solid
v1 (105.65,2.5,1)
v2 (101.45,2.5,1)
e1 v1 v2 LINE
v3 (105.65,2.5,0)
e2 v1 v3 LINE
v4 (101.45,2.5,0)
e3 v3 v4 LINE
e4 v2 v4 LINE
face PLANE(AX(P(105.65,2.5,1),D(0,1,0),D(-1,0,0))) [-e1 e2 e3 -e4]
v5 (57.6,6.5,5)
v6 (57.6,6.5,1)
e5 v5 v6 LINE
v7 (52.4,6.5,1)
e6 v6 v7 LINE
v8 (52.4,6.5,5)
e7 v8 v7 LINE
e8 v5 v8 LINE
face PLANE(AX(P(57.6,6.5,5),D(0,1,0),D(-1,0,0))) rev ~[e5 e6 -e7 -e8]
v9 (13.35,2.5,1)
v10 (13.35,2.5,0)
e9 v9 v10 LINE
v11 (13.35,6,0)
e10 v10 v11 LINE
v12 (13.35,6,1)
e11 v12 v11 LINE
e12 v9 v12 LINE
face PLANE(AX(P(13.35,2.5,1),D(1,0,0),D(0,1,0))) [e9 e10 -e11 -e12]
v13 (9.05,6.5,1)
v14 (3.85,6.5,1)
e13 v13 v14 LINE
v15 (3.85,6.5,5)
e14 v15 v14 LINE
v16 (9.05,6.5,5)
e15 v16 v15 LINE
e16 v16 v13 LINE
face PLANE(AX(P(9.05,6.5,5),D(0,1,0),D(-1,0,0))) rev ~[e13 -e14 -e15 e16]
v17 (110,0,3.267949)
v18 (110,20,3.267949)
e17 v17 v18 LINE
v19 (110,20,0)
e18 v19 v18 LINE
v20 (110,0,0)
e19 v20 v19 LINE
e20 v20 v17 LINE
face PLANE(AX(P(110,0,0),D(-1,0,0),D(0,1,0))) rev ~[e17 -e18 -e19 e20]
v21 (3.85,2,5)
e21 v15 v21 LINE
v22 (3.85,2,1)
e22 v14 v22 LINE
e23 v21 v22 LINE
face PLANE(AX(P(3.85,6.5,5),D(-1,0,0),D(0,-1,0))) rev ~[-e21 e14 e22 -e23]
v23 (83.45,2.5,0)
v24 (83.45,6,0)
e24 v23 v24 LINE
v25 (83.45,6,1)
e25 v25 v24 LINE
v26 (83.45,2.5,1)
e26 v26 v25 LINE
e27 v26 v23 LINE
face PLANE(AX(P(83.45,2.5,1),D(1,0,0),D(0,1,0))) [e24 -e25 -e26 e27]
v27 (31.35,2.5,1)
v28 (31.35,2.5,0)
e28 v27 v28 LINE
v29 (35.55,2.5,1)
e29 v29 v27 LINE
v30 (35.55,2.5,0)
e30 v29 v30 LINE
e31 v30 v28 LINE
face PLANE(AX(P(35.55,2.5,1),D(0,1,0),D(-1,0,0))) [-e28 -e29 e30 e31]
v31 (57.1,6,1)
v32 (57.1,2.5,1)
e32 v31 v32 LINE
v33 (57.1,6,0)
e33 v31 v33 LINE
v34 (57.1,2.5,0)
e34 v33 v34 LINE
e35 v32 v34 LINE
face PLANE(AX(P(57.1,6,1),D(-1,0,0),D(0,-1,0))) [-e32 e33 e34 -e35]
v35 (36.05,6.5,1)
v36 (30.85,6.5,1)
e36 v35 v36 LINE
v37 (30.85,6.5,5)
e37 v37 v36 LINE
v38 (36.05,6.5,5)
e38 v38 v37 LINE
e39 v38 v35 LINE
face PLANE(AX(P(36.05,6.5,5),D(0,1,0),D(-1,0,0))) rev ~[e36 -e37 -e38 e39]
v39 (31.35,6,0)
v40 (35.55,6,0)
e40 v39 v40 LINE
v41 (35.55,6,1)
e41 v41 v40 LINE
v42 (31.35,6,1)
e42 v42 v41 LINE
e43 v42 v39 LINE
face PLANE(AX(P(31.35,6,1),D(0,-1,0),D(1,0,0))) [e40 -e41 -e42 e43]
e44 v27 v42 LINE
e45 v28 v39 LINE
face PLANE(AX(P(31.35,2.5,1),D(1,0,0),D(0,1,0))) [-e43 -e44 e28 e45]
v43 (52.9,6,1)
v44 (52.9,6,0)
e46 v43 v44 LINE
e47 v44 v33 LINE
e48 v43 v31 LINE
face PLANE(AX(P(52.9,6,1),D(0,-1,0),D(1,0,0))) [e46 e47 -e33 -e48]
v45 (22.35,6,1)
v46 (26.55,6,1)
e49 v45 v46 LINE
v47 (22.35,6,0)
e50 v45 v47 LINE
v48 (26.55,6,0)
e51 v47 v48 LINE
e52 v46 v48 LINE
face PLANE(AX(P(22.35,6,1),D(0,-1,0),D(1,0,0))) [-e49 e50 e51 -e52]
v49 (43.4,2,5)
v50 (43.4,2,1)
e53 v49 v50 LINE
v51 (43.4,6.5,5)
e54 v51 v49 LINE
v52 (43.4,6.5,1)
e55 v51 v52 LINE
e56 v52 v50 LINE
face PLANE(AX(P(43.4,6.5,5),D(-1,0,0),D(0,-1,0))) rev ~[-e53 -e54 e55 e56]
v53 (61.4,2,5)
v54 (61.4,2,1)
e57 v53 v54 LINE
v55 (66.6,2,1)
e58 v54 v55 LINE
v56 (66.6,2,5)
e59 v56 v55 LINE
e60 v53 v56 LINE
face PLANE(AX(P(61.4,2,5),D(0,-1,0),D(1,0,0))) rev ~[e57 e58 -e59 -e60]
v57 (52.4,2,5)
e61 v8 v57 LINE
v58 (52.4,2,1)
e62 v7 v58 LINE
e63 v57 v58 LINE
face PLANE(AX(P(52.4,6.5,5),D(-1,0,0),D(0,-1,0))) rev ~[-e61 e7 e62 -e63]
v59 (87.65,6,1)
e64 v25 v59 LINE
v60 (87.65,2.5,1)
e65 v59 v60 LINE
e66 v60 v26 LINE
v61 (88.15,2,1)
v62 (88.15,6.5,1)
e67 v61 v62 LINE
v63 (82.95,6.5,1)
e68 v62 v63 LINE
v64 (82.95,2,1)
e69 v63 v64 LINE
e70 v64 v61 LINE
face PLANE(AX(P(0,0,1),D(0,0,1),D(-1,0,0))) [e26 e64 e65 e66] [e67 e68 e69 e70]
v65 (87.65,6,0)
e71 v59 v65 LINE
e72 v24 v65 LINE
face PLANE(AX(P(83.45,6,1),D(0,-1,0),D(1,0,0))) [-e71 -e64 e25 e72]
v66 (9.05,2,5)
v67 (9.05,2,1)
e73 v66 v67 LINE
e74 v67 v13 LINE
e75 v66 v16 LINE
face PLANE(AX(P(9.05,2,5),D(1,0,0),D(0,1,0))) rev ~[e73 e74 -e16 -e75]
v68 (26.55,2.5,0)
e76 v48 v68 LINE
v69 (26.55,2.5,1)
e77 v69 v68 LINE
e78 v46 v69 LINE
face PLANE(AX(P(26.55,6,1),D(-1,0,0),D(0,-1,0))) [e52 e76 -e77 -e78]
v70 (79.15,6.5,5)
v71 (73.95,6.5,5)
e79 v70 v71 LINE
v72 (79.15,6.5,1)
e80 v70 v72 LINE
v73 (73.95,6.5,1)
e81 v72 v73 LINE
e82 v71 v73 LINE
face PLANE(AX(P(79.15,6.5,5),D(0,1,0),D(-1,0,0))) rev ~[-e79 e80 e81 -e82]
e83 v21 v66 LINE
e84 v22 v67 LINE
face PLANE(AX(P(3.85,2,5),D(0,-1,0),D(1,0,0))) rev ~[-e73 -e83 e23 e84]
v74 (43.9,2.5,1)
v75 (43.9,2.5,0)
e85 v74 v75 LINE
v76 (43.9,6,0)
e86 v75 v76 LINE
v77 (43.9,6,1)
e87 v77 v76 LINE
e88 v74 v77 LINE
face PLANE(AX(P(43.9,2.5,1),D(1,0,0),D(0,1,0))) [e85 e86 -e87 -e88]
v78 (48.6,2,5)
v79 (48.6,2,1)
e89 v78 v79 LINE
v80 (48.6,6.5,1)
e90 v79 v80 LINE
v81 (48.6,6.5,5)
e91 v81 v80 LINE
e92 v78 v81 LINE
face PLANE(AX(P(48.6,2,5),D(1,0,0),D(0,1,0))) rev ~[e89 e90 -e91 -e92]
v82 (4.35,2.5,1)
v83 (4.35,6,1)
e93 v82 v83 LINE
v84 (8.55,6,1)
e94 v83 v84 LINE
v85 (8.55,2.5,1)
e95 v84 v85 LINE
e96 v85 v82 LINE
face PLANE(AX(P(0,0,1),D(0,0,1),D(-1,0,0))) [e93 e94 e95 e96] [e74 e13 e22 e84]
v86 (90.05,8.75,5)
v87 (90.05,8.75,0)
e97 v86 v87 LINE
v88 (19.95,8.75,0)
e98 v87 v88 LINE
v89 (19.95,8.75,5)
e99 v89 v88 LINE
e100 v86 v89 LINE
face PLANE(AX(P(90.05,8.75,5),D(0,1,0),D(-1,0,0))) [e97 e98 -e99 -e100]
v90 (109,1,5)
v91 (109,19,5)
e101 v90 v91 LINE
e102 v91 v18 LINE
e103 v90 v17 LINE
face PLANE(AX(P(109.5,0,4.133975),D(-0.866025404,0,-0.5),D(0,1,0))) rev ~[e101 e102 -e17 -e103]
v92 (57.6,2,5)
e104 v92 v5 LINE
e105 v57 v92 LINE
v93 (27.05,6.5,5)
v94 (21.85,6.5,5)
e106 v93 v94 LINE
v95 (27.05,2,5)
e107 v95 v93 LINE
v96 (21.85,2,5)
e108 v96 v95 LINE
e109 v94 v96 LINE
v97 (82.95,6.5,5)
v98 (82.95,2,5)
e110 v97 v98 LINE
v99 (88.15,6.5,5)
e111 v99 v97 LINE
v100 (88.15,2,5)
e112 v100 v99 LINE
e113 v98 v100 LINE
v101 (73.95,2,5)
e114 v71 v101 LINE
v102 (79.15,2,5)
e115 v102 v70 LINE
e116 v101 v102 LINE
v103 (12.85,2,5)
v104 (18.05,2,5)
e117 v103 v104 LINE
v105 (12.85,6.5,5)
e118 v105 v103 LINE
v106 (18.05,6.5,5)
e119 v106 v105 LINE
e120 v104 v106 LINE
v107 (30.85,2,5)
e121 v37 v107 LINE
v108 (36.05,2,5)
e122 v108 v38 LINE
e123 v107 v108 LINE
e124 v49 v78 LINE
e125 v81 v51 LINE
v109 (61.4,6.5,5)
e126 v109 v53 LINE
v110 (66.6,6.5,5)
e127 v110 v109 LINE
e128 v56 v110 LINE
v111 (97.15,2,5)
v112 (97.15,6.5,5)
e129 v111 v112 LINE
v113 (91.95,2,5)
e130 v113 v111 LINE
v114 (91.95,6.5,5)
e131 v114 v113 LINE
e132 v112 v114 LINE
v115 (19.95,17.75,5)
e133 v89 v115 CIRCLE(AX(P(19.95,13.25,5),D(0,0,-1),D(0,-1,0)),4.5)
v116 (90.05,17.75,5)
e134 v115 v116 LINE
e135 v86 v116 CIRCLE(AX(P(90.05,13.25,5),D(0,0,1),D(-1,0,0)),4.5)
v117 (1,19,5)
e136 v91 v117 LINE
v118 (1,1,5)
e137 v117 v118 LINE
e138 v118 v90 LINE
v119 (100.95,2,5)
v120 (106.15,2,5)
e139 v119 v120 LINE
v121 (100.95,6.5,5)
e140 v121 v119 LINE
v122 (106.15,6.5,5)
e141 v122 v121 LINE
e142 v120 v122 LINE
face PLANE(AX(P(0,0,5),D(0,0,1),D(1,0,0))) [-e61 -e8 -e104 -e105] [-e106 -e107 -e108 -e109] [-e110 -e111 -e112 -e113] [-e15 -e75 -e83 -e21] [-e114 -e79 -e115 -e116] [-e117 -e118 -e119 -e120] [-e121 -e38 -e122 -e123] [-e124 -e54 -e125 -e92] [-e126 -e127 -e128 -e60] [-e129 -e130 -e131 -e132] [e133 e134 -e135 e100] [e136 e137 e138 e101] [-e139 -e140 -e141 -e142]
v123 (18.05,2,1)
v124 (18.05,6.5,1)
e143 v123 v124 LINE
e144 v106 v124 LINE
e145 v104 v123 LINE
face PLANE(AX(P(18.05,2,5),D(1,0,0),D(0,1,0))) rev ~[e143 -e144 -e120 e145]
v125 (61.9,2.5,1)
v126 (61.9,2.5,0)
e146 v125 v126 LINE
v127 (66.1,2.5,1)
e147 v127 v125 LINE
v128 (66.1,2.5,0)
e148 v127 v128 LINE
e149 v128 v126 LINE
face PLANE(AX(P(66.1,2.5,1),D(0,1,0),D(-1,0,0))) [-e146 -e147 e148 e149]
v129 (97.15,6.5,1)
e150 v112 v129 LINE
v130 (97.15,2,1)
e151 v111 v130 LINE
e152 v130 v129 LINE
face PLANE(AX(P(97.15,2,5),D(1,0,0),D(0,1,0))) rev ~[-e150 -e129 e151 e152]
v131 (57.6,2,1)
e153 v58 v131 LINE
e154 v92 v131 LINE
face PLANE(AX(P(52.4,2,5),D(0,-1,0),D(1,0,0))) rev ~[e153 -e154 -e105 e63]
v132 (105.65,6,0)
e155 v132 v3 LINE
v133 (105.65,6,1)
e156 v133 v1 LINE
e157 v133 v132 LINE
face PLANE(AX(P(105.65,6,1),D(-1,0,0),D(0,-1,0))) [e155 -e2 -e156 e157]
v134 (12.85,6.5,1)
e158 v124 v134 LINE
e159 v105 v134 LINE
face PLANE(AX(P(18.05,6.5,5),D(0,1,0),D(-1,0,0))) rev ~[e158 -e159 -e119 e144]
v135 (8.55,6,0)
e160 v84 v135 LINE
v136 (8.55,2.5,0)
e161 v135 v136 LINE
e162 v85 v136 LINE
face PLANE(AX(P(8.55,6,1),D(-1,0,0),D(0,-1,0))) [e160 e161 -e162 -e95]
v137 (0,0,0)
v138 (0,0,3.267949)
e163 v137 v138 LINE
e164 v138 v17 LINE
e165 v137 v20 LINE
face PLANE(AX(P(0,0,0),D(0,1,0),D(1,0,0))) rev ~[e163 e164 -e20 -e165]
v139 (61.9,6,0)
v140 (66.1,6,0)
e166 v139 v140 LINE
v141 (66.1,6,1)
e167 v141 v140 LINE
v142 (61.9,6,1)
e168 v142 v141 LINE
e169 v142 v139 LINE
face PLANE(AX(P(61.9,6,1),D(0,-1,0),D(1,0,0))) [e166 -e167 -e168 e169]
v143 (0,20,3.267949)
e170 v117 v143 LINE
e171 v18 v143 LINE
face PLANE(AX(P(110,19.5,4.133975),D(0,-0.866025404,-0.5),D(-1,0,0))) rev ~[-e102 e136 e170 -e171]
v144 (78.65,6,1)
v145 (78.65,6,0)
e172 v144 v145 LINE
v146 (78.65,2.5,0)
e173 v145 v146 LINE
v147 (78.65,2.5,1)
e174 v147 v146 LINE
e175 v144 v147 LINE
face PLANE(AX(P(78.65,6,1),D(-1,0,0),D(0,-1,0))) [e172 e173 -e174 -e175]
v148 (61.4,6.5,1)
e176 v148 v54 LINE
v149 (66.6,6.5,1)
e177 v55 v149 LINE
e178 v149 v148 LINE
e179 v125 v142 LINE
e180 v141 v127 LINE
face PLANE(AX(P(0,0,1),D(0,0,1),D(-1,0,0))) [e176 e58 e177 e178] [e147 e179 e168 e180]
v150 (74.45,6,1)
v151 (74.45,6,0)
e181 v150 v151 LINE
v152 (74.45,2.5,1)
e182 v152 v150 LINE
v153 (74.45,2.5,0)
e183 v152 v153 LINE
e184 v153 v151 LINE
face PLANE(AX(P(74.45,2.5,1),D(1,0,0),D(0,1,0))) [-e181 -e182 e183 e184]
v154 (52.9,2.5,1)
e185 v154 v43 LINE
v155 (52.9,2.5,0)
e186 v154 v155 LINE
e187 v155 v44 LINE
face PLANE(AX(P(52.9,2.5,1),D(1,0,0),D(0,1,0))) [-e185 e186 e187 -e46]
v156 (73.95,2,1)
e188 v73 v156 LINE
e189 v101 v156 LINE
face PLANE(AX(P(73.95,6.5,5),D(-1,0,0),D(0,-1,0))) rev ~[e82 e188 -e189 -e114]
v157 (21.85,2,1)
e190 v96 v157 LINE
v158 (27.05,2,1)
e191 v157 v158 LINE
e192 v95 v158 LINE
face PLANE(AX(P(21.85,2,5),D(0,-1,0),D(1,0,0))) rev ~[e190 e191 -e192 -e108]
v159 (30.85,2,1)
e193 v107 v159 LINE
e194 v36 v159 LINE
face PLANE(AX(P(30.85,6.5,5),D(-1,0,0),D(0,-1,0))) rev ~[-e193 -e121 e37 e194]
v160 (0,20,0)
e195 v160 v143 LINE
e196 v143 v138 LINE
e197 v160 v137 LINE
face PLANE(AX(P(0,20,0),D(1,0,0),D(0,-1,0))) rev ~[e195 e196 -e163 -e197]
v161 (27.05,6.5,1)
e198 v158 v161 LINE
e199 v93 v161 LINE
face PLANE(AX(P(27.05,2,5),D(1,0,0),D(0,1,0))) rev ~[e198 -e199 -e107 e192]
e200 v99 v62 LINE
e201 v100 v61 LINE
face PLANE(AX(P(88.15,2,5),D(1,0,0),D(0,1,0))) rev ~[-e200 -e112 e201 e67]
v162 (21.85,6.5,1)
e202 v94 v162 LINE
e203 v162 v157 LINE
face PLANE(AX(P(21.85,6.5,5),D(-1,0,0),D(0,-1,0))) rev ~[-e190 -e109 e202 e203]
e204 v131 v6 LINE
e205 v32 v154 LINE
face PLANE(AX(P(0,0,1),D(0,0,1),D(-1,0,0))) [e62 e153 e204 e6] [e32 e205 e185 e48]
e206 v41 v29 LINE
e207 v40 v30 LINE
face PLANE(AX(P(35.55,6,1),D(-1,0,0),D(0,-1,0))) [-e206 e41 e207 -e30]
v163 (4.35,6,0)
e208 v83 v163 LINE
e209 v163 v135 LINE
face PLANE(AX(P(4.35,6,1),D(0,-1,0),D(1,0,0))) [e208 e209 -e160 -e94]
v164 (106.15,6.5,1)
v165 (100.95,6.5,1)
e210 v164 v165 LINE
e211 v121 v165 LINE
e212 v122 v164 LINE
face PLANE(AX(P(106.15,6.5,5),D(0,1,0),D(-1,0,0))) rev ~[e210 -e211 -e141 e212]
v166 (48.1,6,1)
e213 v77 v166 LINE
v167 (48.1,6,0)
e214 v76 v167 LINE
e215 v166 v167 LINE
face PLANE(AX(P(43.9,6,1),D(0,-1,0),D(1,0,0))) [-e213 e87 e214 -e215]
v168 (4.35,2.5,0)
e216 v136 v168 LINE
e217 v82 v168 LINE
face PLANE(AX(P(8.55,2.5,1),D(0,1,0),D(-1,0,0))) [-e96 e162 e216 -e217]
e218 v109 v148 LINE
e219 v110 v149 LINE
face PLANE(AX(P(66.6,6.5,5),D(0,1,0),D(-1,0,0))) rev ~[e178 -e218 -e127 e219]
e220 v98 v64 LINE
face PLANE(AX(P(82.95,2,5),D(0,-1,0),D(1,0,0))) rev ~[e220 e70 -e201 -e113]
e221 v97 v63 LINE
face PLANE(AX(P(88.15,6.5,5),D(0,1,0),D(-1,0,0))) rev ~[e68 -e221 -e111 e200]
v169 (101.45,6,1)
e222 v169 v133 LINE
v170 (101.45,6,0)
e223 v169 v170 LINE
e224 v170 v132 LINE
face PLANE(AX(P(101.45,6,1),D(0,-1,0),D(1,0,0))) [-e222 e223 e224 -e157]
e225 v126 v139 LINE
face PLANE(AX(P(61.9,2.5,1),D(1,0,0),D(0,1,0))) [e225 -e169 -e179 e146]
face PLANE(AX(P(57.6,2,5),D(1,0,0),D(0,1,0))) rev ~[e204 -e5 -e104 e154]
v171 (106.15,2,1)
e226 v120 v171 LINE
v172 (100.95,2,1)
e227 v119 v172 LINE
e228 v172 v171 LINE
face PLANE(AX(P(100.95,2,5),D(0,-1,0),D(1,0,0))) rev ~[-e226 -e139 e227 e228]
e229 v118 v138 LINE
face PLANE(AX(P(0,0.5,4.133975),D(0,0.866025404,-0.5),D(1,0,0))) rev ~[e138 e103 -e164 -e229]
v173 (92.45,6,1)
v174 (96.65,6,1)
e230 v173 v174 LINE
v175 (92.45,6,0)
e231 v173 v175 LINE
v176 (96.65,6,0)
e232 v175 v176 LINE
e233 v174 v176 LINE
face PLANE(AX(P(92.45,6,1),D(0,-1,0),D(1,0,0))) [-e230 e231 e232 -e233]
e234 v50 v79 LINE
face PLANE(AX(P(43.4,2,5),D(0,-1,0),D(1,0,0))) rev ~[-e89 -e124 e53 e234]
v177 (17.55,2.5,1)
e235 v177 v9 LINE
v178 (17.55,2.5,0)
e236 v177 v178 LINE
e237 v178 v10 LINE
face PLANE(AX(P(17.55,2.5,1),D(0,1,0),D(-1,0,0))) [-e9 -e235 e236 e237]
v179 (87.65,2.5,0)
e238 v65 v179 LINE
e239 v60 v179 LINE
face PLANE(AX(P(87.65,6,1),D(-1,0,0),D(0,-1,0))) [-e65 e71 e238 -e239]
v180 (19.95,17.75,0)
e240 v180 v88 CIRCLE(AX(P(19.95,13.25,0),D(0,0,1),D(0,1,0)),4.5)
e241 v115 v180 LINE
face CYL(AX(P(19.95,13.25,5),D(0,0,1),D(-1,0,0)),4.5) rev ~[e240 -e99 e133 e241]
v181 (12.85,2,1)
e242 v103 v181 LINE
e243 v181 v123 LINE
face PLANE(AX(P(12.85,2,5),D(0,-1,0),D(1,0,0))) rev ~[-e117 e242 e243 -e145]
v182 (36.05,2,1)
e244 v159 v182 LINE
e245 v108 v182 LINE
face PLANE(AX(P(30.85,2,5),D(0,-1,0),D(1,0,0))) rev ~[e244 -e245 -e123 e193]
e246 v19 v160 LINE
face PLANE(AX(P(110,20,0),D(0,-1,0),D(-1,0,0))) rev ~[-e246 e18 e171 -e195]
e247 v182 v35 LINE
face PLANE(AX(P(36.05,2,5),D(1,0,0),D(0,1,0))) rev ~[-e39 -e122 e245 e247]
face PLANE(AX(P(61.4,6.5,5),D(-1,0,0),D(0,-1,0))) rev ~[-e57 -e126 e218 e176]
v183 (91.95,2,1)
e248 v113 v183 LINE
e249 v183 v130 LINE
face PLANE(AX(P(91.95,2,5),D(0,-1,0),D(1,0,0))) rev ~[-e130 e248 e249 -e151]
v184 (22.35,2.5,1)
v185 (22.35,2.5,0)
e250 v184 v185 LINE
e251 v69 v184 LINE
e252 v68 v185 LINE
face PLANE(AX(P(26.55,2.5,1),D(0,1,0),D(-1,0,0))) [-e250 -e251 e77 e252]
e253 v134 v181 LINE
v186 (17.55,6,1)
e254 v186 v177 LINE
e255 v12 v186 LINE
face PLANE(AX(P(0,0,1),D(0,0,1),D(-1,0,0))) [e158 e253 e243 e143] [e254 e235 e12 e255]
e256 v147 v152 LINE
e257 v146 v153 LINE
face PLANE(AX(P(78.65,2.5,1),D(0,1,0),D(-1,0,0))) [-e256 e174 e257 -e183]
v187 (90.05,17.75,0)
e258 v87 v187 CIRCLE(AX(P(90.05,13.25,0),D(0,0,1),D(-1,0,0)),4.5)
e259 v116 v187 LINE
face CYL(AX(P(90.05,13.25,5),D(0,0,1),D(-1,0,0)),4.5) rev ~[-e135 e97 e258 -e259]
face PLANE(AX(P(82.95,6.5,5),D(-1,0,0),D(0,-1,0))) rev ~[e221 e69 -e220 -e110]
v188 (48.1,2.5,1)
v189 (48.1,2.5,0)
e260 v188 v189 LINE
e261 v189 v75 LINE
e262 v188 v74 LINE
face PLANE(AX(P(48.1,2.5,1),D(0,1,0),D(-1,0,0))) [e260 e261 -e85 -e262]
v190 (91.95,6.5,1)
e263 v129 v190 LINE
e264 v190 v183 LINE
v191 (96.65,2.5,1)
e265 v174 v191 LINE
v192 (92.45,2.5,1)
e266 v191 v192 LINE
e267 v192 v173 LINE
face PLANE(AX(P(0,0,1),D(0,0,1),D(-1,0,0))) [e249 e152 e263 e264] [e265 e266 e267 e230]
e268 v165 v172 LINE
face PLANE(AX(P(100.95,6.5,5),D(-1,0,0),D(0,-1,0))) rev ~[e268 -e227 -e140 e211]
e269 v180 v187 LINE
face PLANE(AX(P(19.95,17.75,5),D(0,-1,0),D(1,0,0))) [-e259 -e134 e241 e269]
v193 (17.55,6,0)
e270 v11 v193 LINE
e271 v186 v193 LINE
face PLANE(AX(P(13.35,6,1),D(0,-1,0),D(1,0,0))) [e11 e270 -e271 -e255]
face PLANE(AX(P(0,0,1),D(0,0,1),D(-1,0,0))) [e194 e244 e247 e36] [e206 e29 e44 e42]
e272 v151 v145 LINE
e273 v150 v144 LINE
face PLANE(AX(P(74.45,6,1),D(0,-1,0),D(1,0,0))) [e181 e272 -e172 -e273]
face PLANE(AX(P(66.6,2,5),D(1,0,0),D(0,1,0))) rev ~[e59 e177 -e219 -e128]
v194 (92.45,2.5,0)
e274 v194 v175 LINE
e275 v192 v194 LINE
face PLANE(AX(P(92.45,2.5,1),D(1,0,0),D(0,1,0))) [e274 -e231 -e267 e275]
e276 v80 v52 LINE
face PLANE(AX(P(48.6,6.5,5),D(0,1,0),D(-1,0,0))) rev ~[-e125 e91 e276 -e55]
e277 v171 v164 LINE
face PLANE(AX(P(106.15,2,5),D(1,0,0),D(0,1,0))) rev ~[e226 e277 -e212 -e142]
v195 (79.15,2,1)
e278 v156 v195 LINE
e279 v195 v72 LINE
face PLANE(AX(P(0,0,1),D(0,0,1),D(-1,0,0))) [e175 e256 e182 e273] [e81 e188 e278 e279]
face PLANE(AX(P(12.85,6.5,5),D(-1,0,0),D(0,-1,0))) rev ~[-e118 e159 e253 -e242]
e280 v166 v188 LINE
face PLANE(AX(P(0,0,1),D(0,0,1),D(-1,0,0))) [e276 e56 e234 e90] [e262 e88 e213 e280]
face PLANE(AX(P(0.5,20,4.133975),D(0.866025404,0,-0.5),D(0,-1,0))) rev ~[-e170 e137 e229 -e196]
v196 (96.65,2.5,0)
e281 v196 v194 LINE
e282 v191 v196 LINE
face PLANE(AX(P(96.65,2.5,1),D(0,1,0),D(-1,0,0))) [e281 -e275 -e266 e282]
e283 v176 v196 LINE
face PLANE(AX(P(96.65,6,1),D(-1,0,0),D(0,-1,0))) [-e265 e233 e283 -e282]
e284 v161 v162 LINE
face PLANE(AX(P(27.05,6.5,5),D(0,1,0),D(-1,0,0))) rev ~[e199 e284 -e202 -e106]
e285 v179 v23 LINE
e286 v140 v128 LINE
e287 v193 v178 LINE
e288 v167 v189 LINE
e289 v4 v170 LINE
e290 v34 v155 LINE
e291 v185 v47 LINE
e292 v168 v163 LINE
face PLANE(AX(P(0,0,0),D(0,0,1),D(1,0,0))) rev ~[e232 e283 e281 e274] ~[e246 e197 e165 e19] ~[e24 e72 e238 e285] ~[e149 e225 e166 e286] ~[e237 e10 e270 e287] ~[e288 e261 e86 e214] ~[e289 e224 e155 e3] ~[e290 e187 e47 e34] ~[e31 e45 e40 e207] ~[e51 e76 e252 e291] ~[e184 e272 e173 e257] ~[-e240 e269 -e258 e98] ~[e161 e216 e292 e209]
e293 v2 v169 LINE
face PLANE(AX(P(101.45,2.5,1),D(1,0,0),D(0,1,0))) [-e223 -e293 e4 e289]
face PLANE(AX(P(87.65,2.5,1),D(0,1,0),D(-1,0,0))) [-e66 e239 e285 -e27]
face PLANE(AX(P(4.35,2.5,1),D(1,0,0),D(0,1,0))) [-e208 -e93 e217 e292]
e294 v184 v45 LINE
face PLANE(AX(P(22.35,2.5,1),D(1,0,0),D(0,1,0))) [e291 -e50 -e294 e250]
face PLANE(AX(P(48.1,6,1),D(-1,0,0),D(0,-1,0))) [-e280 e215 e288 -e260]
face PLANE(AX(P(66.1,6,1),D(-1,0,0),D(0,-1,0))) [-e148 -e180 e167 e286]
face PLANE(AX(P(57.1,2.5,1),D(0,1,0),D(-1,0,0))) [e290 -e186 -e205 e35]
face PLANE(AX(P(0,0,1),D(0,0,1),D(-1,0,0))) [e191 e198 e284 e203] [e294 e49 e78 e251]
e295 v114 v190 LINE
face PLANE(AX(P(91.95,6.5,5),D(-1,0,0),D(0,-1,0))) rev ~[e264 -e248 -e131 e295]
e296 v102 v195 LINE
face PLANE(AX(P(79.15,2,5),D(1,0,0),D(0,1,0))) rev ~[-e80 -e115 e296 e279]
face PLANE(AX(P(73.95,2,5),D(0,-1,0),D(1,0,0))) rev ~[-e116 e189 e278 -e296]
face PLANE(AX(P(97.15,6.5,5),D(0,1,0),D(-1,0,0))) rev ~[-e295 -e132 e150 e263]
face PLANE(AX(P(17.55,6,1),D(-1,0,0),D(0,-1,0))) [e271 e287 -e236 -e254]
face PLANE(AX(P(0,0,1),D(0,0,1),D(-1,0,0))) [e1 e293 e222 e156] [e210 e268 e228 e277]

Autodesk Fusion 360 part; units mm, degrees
sketch "Sketch1" plane through (0, 0, 0) normal (0, 0, 1) x (1, 0, 0)
  line L0 (0, 0) -> (110, 0)
  line L1 (110, 0) -> (110, 20)
  line L2 (110, 20) -> (0, 20)
  line L3 (0, 20) -> (0, 0)
  dimension "d1" = 110
  dimension "d2" = 20
extrude "Extrude1" add sketch "Sketch1" along normal blind 5
sketch "Sketch2" plane through (0, 0, 5) normal (0, 0, 1) x (-1, 0, 0)
  line L0 (0, -20) -> (0, 0)
  line L1 (0, 0) -> (-110, 0)
  line L2 (-110, 0) -> (-110, -20)
  line L3 (-110, -20) -> (0, -20)
  line L4 (-3.85, -2) -> (-106.15, -2) construction
  line L5 (-46, -2) -> (-46, -6.5) construction
  line L6 (-91.95, -6.5) -> (-91.95, -2)
  line L7 (-97.15, -6.5) -> (-91.95, -6.5)
  line L8 (-73.95, -6.5) -> (-73.95, -2)
  line L9 (-55, -2) -> (-55, -6.5) construction
  line L10 (-33.45, -2) -> (-33.45, -6.5) construction
  line L11 (-27.05, -2) -> (-27.05, -6.5)
  line L12 (-30.85, -6.5) -> (-30.85, -2)
  line L13 (-43.4, -6.5) -> (-43.4, -2)
  line L14 (-18.05, -2) -> (-18.05, -6.5)
  line L15 (-21.85, -6.5) -> (-21.85, -2)
  line L16 (-36.05, -6.5) -> (-30.85, -6.5)
  line L17 (-9.05, -2) -> (-9.05, -6.5)
  line L18 (-9.05, -6.5) -> (-3.85, -6.5)
  line L19 (-21.85, -2) -> (-27.05, -2)
  line L20 (-3.85, -2) -> (-9.05, -2)
  line L21 (-12.85, -2) -> (-18.05, -2)
  line L22 (-3.85, -6.5) -> (-3.85, -2)
  line L23 (-18.05, -6.5) -> (-12.85, -6.5)
  line L24 (-30.85, -2) -> (-36.05, -2)
  line L25 (-82.95, -6.5) -> (-82.95, -2)
  line L26 (-57.6, -2) -> (-57.6, -6.5)
  line L27 (-48.6, -2) -> (-48.6, -6.5)
  line L28 (-61.4, -2) -> (-66.6, -2)
  line L29 (-64, -2) -> (-64, -6.5) construction
  line L30 (-106.15, -6.5) -> (-100.95, -6.5)
  line L31 (-100.95, -2) -> (-106.15, -2)
  line L32 (-106.15, -2) -> (-106.15, -6.5)
  line L33 (-79.15, -2) -> (-79.15, -6.5)
  line L34 (-61.4, -6.5) -> (-61.4, -2)
  line L35 (-52.4, -6.5) -> (-52.4, -2)
  line L36 (-88.15, -6.5) -> (-82.95, -6.5)
  line L37 (-97.15, -2) -> (-97.15, -6.5)
  line L38 (-106.15, -2) -> (-106.15, -6.5) construction
  line L39 (-48.6, -6.5) -> (-43.4, -6.5)
  line L40 (-52.4, -2) -> (-57.6, -2)
  line L41 (-76.55, -2) -> (-76.55, -6.5) construction
  line L42 (-43.4, -2) -> (-48.6, -2)
  line L43 (-57.6, -6.5) -> (-52.4, -6.5)
  line L44 (-66.6, -6.5) -> (-61.4, -6.5)
  line L45 (-82.95, -2) -> (-88.15, -2)
  line L46 (-66.6, -2) -> (-66.6, -6.5)
  line L47 (-100.95, -6.5) -> (-100.95, -2)
  line L48 (-91.95, -2) -> (-97.15, -2)
  line L49 (-88.15, -2) -> (-88.15, -6.5)
  line L50 (-27.05, -6.5) -> (-21.85, -6.5)
  line L51 (-12.85, -6.5) -> (-12.85, -2)
  line L52 (-36.05, -2) -> (-36.05, -6.5)
  line L53 (-3.85, -6.5) -> (-3.85, -2) construction
  line L54 (-73.95, -2) -> (-79.15, -2)
  line L55 (-106.15, -6.5) -> (-3.85, -6.5) construction
  line L56 (-79.15, -6.5) -> (-73.95, -6.5)
  line L57 (0, -2) -> (-110, -2) construction
  line L58 (-55, -20) -> (-55, 0) construction
  dimension "d27" = 9
  dimension "d28" = 0
  dimension "d31" = 9
  dimension "d32" = 0
  dimension "d35" = 9
  dimension "d36" = 0
  dimension "d37" = 5.2
  dimension "d38" = 4.5
  dimension "d39" = 5.2
  dimension "d40" = 4.5
  dimension "d41" = 12.55
  dimension "d42" = 5.2
  dimension "d43" = 4.5
  dimension "d44" = 12.55
  dimension "d45" = 2
extrude "Extrude2" cut sketch "Sketch2" against normal blind 4 contours L6 L7 L37 L48 | L8 L33 L54 L56 | L11 L15 L19 L50 | L12 L16 L24 L52 | L13 L27 L39 L42 | L14 L21 L23 L51 | L17 L18 L20 L22 | L25 L36 L45 L49 | L26 L35 L40 L43 | L28 L34 L44 L46 | L30 L31 L32 L47
sketch "Sketch3" plane through (0, 0, 1) normal (0, 0, 1) x (-1, 0, 0)
  line L0 (-3.85, -6.5) -> (-3.85, -2)
  line L1 (-3.85, -2) -> (-9.05, -2)
  line L2 (-9.05, -2) -> (-9.05, -6.5)
  line L3 (-9.05, -6.5) -> (-3.85, -6.5)
  line L4 (-4.35, -6) -> (-8.55, -6)
  line L5 (-8.55, -6) -> (-8.55, -2.5)
  line L6 (-8.55, -2.5) -> (-4.35, -2.5)
  line L7 (-4.35, -2.5) -> (-4.35, -6)
  line L8 (-13.35, -6) -> (-17.55, -6)
  line L9 (-17.55, -6) -> (-17.55, -2.5)
  line L10 (-17.55, -2.5) -> (-13.35, -2.5)
  line L11 (-13.35, -2.5) -> (-13.35, -6)
  line L12 (-22.35, -6) -> (-26.55, -6)
  line L13 (-26.55, -6) -> (-26.55, -2.5)
  line L14 (-26.55, -2.5) -> (-22.35, -2.5)
  line L15 (-22.35, -2.5) -> (-22.35, -6)
  line L16 (-31.35, -6) -> (-35.55, -6)
  line L17 (-35.55, -6) -> (-35.55, -2.5)
  line L18 (-35.55, -2.5) -> (-31.35, -2.5)
  line L19 (-31.35, -2.5) -> (-31.35, -6)
  line L20 (-43.9, -6) -> (-48.1, -6)
  line L21 (-48.1, -6) -> (-48.1, -2.5)
  line L22 (-48.1, -2.5) -> (-43.9, -2.5)
  line L23 (-43.9, -2.5) -> (-43.9, -6)
  line L24 (-43.4, -6.5) -> (-48.6, -6.5)
  line L25 (-48.6, -2) -> (-43.4, -2)
  line L26 (-48.6, -6.5) -> (-48.6, -2)
  line L27 (-43.4, -2) -> (-43.4, -6.5)
  line L28 (-52.9, -6) -> (-57.1, -6)
  line L29 (-57.1, -6) -> (-57.1, -2.5)
  line L30 (-57.1, -2.5) -> (-52.9, -2.5)
  line L31 (-52.9, -2.5) -> (-52.9, -6)
  line L32 (-61.9, -6) -> (-66.1, -6)
  line L33 (-66.1, -6) -> (-66.1, -2.5)
  line L34 (-66.1, -2.5) -> (-61.9, -2.5)
  line L35 (-61.9, -2.5) -> (-61.9, -6)
  line L36 (-78.65, -2.5) -> (-74.45, -2.5)
  line L37 (-78.65, -6) -> (-78.65, -2.5)
  line L38 (-74.45, -6) -> (-78.65, -6)
  line L39 (-74.45, -2.5) -> (-74.45, -6)
  line L40 (-73.95, -6.5) -> (-79.15, -6.5)
  line L41 (-79.15, -2) -> (-73.95, -2)
  line L42 (-79.15, -6.5) -> (-79.15, -2)
  line L43 (-73.95, -2) -> (-73.95, -6.5)
  line L44 (-87.65, -6) -> (-87.65, -2.5)
  line L45 (-87.65, -2.5) -> (-83.45, -2.5)
  line L46 (-83.45, -2.5) -> (-83.45, -6)
  line L47 (-83.45, -6) -> (-87.65, -6)
  line L48 (-96.65, -6) -> (-96.65, -2.5)
  line L49 (-96.65, -2.5) -> (-92.45, -2.5)
  line L50 (-92.45, -2.5) -> (-92.45, -6)
  line L51 (-92.45, -6) -> (-96.65, -6)
  line L52 (-105.65, -6) -> (-105.65, -2.5)
  line L53 (-105.65, -2.5) -> (-101.45, -2.5)
  line L54 (-101.45, -2.5) -> (-101.45, -6)
  line L55 (-101.45, -6) -> (-105.65, -6)
  dimension "d48" = 0.5
  dimension "d49" = 0.5
  dimension "d50" = 0.5
  dimension "d51" = 0.5
  dimension "d54" = -9
  dimension "d55" = 0
  dimension "d56" = 0.5
  dimension "d57" = 0.5
  dimension "d58" = 0.5
  dimension "d59" = 0.5
  dimension "d62" = -9
  dimension "d63" = 0
  dimension "d64" = 0.5
  dimension "d65" = 0.5
  dimension "d66" = 0.5
  dimension "d67" = 0.5
  dimension "d70" = -9
  dimension "d71" = 0
extrude "Extrude3" cut sketch "Sketch3" against normal blind 2 contours L4 L5 L6 L7 | L8 L9 L10 L11 | L12 L13 L14 L15 | L16 L17 L18 L19 | L20 L21 L22 L23 | L28 L29 L30 L31 | L32 L33 L34 L35 | L36 L37 L38 L39 | L44 L45 L46 L47 | L48 L49 L50 L51 | L52 L53 L54 L55
sketch "Sketch4" plane through (0, 0, 5) normal (0, 0, 1) x (-1, 0, 0)
  line L0 (0, -20) -> (0, 0)
  line L1 (0, 0) -> (-110, 0)
  line L2 (-110, 0) -> (-110, -20)
  line L3 (-110, -20) -> (0, -20)
  line L4 (-106.15, -2) -> (-100.95, -2)
  line L5 (-100.95, -2) -> (-100.95, -6.5)
  line L6 (-100.95, -6.5) -> (-106.15, -6.5)
  line L7 (-106.15, -6.5) -> (-106.15, -2)
  line L8 (-61.4, -6.5) -> (-66.6, -6.5)
  line L9 (-66.6, -6.5) -> (-66.6, -2)
  line L10 (-66.6, -2) -> (-61.4, -2)
  line L11 (-61.4, -2) -> (-61.4, -6.5)
  line L12 (-21.85, -2) -> (-21.85, -6.5)
  line L13 (-21.85, -6.5) -> (-27.05, -6.5)
  line L14 (-27.05, -6.5) -> (-27.05, -2)
  line L15 (-27.05, -2) -> (-21.85, -2)
  line L16 (-18.05, -2) -> (-12.85, -2)
  line L17 (-12.85, -2) -> (-12.85, -6.5)
  line L18 (-12.85, -6.5) -> (-18.05, -6.5)
  line L19 (-18.05, -6.5) -> (-18.05, -2)
  line L20 (-52.4, -2) -> (-52.4, -6.5)
  line L21 (-52.4, -6.5) -> (-57.6, -6.5)
  line L22 (-57.6, -6.5) -> (-57.6, -2)
  line L23 (-57.6, -2) -> (-52.4, -2)
  line L24 (-97.15, -6.5) -> (-97.15, -2)
  line L25 (-97.15, -2) -> (-91.95, -2)
  line L26 (-91.95, -2) -> (-91.95, -6.5)
  line L27 (-91.95, -6.5) -> (-97.15, -6.5)
  line L28 (-73.95, -2) -> (-73.95, -6.5)
  line L29 (-73.95, -6.5) -> (-79.15, -6.5)
  line L30 (-79.15, -6.5) -> (-79.15, -2)
  line L31 (-79.15, -2) -> (-73.95, -2)
  line L32 (-30.85, -6.5) -> (-36.05, -6.5)
  line L33 (-36.05, -6.5) -> (-36.05, -2)
  line L34 (-36.05, -2) -> (-30.85, -2)
  line L35 (-30.85, -2) -> (-30.85, -6.5)
  line L36 (-9.05, -2) -> (-3.85, -2)
  line L37 (-3.85, -2) -> (-3.85, -6.5)
  line L38 (-3.85, -6.5) -> (-9.05, -6.5)
  line L39 (-9.05, -6.5) -> (-9.05, -2)
  line L40 (-48.6, -6.5) -> (-48.6, -2)
  line L41 (-48.6, -2) -> (-43.4, -2)
  line L42 (-43.4, -2) -> (-43.4, -6.5)
  line L43 (-43.4, -6.5) -> (-48.6, -6.5)
  line L44 (-82.95, -6.5) -> (-88.15, -6.5)
  line L45 (-88.15, -6.5) -> (-88.15, -2)
  line L46 (-88.15, -2) -> (-82.95, -2)
  line L47 (-82.95, -2) -> (-82.95, -6.5)
  line L48 (-21.85, -6.5) -> (-18.05, -6.5) construction
  line L49 (-19.95, -6.5) -> (-19.95, -20) construction
  line L50 (-88.15, -6.5) -> (-91.95, -6.5) construction
  line L51 (-90.05, -6.5) -> (-90.05, -20) construction
  circle A0 centre (-19.95, -13.25) radius 4.5
  circle A1 centre (-90.05, -13.25) radius 4.5
  line L52 (-19.95, -17.75) -> (-90.05, -17.75)
  line L53 (-90.05, -8.75) -> (-19.95, -8.75)
  dimension "d80" = 9
  dimension "d81" = 9
extrude "Extrude4" cut sketch "Sketch4" against normal blind 5 contours A0 | A0 A1 L52 L53 | A1
chamfer "Chamfer1" distance 1 angle 60 4 edges at (55, 20, 5) (0, 10, 5) (55, 0, 5) (110, 10, 5) measured on face at (101.8291, 13.3621, 5) measured on face at (101.8291, 13.3621, 5) measured on face at (101.8291, 13.3621, 5) measured on face at (101.8291, 13.3621, 5)
equation "d37 = 5 mm + 0.2 mm"
equation "d38 = 4.3 mm + 0.2 mm"
